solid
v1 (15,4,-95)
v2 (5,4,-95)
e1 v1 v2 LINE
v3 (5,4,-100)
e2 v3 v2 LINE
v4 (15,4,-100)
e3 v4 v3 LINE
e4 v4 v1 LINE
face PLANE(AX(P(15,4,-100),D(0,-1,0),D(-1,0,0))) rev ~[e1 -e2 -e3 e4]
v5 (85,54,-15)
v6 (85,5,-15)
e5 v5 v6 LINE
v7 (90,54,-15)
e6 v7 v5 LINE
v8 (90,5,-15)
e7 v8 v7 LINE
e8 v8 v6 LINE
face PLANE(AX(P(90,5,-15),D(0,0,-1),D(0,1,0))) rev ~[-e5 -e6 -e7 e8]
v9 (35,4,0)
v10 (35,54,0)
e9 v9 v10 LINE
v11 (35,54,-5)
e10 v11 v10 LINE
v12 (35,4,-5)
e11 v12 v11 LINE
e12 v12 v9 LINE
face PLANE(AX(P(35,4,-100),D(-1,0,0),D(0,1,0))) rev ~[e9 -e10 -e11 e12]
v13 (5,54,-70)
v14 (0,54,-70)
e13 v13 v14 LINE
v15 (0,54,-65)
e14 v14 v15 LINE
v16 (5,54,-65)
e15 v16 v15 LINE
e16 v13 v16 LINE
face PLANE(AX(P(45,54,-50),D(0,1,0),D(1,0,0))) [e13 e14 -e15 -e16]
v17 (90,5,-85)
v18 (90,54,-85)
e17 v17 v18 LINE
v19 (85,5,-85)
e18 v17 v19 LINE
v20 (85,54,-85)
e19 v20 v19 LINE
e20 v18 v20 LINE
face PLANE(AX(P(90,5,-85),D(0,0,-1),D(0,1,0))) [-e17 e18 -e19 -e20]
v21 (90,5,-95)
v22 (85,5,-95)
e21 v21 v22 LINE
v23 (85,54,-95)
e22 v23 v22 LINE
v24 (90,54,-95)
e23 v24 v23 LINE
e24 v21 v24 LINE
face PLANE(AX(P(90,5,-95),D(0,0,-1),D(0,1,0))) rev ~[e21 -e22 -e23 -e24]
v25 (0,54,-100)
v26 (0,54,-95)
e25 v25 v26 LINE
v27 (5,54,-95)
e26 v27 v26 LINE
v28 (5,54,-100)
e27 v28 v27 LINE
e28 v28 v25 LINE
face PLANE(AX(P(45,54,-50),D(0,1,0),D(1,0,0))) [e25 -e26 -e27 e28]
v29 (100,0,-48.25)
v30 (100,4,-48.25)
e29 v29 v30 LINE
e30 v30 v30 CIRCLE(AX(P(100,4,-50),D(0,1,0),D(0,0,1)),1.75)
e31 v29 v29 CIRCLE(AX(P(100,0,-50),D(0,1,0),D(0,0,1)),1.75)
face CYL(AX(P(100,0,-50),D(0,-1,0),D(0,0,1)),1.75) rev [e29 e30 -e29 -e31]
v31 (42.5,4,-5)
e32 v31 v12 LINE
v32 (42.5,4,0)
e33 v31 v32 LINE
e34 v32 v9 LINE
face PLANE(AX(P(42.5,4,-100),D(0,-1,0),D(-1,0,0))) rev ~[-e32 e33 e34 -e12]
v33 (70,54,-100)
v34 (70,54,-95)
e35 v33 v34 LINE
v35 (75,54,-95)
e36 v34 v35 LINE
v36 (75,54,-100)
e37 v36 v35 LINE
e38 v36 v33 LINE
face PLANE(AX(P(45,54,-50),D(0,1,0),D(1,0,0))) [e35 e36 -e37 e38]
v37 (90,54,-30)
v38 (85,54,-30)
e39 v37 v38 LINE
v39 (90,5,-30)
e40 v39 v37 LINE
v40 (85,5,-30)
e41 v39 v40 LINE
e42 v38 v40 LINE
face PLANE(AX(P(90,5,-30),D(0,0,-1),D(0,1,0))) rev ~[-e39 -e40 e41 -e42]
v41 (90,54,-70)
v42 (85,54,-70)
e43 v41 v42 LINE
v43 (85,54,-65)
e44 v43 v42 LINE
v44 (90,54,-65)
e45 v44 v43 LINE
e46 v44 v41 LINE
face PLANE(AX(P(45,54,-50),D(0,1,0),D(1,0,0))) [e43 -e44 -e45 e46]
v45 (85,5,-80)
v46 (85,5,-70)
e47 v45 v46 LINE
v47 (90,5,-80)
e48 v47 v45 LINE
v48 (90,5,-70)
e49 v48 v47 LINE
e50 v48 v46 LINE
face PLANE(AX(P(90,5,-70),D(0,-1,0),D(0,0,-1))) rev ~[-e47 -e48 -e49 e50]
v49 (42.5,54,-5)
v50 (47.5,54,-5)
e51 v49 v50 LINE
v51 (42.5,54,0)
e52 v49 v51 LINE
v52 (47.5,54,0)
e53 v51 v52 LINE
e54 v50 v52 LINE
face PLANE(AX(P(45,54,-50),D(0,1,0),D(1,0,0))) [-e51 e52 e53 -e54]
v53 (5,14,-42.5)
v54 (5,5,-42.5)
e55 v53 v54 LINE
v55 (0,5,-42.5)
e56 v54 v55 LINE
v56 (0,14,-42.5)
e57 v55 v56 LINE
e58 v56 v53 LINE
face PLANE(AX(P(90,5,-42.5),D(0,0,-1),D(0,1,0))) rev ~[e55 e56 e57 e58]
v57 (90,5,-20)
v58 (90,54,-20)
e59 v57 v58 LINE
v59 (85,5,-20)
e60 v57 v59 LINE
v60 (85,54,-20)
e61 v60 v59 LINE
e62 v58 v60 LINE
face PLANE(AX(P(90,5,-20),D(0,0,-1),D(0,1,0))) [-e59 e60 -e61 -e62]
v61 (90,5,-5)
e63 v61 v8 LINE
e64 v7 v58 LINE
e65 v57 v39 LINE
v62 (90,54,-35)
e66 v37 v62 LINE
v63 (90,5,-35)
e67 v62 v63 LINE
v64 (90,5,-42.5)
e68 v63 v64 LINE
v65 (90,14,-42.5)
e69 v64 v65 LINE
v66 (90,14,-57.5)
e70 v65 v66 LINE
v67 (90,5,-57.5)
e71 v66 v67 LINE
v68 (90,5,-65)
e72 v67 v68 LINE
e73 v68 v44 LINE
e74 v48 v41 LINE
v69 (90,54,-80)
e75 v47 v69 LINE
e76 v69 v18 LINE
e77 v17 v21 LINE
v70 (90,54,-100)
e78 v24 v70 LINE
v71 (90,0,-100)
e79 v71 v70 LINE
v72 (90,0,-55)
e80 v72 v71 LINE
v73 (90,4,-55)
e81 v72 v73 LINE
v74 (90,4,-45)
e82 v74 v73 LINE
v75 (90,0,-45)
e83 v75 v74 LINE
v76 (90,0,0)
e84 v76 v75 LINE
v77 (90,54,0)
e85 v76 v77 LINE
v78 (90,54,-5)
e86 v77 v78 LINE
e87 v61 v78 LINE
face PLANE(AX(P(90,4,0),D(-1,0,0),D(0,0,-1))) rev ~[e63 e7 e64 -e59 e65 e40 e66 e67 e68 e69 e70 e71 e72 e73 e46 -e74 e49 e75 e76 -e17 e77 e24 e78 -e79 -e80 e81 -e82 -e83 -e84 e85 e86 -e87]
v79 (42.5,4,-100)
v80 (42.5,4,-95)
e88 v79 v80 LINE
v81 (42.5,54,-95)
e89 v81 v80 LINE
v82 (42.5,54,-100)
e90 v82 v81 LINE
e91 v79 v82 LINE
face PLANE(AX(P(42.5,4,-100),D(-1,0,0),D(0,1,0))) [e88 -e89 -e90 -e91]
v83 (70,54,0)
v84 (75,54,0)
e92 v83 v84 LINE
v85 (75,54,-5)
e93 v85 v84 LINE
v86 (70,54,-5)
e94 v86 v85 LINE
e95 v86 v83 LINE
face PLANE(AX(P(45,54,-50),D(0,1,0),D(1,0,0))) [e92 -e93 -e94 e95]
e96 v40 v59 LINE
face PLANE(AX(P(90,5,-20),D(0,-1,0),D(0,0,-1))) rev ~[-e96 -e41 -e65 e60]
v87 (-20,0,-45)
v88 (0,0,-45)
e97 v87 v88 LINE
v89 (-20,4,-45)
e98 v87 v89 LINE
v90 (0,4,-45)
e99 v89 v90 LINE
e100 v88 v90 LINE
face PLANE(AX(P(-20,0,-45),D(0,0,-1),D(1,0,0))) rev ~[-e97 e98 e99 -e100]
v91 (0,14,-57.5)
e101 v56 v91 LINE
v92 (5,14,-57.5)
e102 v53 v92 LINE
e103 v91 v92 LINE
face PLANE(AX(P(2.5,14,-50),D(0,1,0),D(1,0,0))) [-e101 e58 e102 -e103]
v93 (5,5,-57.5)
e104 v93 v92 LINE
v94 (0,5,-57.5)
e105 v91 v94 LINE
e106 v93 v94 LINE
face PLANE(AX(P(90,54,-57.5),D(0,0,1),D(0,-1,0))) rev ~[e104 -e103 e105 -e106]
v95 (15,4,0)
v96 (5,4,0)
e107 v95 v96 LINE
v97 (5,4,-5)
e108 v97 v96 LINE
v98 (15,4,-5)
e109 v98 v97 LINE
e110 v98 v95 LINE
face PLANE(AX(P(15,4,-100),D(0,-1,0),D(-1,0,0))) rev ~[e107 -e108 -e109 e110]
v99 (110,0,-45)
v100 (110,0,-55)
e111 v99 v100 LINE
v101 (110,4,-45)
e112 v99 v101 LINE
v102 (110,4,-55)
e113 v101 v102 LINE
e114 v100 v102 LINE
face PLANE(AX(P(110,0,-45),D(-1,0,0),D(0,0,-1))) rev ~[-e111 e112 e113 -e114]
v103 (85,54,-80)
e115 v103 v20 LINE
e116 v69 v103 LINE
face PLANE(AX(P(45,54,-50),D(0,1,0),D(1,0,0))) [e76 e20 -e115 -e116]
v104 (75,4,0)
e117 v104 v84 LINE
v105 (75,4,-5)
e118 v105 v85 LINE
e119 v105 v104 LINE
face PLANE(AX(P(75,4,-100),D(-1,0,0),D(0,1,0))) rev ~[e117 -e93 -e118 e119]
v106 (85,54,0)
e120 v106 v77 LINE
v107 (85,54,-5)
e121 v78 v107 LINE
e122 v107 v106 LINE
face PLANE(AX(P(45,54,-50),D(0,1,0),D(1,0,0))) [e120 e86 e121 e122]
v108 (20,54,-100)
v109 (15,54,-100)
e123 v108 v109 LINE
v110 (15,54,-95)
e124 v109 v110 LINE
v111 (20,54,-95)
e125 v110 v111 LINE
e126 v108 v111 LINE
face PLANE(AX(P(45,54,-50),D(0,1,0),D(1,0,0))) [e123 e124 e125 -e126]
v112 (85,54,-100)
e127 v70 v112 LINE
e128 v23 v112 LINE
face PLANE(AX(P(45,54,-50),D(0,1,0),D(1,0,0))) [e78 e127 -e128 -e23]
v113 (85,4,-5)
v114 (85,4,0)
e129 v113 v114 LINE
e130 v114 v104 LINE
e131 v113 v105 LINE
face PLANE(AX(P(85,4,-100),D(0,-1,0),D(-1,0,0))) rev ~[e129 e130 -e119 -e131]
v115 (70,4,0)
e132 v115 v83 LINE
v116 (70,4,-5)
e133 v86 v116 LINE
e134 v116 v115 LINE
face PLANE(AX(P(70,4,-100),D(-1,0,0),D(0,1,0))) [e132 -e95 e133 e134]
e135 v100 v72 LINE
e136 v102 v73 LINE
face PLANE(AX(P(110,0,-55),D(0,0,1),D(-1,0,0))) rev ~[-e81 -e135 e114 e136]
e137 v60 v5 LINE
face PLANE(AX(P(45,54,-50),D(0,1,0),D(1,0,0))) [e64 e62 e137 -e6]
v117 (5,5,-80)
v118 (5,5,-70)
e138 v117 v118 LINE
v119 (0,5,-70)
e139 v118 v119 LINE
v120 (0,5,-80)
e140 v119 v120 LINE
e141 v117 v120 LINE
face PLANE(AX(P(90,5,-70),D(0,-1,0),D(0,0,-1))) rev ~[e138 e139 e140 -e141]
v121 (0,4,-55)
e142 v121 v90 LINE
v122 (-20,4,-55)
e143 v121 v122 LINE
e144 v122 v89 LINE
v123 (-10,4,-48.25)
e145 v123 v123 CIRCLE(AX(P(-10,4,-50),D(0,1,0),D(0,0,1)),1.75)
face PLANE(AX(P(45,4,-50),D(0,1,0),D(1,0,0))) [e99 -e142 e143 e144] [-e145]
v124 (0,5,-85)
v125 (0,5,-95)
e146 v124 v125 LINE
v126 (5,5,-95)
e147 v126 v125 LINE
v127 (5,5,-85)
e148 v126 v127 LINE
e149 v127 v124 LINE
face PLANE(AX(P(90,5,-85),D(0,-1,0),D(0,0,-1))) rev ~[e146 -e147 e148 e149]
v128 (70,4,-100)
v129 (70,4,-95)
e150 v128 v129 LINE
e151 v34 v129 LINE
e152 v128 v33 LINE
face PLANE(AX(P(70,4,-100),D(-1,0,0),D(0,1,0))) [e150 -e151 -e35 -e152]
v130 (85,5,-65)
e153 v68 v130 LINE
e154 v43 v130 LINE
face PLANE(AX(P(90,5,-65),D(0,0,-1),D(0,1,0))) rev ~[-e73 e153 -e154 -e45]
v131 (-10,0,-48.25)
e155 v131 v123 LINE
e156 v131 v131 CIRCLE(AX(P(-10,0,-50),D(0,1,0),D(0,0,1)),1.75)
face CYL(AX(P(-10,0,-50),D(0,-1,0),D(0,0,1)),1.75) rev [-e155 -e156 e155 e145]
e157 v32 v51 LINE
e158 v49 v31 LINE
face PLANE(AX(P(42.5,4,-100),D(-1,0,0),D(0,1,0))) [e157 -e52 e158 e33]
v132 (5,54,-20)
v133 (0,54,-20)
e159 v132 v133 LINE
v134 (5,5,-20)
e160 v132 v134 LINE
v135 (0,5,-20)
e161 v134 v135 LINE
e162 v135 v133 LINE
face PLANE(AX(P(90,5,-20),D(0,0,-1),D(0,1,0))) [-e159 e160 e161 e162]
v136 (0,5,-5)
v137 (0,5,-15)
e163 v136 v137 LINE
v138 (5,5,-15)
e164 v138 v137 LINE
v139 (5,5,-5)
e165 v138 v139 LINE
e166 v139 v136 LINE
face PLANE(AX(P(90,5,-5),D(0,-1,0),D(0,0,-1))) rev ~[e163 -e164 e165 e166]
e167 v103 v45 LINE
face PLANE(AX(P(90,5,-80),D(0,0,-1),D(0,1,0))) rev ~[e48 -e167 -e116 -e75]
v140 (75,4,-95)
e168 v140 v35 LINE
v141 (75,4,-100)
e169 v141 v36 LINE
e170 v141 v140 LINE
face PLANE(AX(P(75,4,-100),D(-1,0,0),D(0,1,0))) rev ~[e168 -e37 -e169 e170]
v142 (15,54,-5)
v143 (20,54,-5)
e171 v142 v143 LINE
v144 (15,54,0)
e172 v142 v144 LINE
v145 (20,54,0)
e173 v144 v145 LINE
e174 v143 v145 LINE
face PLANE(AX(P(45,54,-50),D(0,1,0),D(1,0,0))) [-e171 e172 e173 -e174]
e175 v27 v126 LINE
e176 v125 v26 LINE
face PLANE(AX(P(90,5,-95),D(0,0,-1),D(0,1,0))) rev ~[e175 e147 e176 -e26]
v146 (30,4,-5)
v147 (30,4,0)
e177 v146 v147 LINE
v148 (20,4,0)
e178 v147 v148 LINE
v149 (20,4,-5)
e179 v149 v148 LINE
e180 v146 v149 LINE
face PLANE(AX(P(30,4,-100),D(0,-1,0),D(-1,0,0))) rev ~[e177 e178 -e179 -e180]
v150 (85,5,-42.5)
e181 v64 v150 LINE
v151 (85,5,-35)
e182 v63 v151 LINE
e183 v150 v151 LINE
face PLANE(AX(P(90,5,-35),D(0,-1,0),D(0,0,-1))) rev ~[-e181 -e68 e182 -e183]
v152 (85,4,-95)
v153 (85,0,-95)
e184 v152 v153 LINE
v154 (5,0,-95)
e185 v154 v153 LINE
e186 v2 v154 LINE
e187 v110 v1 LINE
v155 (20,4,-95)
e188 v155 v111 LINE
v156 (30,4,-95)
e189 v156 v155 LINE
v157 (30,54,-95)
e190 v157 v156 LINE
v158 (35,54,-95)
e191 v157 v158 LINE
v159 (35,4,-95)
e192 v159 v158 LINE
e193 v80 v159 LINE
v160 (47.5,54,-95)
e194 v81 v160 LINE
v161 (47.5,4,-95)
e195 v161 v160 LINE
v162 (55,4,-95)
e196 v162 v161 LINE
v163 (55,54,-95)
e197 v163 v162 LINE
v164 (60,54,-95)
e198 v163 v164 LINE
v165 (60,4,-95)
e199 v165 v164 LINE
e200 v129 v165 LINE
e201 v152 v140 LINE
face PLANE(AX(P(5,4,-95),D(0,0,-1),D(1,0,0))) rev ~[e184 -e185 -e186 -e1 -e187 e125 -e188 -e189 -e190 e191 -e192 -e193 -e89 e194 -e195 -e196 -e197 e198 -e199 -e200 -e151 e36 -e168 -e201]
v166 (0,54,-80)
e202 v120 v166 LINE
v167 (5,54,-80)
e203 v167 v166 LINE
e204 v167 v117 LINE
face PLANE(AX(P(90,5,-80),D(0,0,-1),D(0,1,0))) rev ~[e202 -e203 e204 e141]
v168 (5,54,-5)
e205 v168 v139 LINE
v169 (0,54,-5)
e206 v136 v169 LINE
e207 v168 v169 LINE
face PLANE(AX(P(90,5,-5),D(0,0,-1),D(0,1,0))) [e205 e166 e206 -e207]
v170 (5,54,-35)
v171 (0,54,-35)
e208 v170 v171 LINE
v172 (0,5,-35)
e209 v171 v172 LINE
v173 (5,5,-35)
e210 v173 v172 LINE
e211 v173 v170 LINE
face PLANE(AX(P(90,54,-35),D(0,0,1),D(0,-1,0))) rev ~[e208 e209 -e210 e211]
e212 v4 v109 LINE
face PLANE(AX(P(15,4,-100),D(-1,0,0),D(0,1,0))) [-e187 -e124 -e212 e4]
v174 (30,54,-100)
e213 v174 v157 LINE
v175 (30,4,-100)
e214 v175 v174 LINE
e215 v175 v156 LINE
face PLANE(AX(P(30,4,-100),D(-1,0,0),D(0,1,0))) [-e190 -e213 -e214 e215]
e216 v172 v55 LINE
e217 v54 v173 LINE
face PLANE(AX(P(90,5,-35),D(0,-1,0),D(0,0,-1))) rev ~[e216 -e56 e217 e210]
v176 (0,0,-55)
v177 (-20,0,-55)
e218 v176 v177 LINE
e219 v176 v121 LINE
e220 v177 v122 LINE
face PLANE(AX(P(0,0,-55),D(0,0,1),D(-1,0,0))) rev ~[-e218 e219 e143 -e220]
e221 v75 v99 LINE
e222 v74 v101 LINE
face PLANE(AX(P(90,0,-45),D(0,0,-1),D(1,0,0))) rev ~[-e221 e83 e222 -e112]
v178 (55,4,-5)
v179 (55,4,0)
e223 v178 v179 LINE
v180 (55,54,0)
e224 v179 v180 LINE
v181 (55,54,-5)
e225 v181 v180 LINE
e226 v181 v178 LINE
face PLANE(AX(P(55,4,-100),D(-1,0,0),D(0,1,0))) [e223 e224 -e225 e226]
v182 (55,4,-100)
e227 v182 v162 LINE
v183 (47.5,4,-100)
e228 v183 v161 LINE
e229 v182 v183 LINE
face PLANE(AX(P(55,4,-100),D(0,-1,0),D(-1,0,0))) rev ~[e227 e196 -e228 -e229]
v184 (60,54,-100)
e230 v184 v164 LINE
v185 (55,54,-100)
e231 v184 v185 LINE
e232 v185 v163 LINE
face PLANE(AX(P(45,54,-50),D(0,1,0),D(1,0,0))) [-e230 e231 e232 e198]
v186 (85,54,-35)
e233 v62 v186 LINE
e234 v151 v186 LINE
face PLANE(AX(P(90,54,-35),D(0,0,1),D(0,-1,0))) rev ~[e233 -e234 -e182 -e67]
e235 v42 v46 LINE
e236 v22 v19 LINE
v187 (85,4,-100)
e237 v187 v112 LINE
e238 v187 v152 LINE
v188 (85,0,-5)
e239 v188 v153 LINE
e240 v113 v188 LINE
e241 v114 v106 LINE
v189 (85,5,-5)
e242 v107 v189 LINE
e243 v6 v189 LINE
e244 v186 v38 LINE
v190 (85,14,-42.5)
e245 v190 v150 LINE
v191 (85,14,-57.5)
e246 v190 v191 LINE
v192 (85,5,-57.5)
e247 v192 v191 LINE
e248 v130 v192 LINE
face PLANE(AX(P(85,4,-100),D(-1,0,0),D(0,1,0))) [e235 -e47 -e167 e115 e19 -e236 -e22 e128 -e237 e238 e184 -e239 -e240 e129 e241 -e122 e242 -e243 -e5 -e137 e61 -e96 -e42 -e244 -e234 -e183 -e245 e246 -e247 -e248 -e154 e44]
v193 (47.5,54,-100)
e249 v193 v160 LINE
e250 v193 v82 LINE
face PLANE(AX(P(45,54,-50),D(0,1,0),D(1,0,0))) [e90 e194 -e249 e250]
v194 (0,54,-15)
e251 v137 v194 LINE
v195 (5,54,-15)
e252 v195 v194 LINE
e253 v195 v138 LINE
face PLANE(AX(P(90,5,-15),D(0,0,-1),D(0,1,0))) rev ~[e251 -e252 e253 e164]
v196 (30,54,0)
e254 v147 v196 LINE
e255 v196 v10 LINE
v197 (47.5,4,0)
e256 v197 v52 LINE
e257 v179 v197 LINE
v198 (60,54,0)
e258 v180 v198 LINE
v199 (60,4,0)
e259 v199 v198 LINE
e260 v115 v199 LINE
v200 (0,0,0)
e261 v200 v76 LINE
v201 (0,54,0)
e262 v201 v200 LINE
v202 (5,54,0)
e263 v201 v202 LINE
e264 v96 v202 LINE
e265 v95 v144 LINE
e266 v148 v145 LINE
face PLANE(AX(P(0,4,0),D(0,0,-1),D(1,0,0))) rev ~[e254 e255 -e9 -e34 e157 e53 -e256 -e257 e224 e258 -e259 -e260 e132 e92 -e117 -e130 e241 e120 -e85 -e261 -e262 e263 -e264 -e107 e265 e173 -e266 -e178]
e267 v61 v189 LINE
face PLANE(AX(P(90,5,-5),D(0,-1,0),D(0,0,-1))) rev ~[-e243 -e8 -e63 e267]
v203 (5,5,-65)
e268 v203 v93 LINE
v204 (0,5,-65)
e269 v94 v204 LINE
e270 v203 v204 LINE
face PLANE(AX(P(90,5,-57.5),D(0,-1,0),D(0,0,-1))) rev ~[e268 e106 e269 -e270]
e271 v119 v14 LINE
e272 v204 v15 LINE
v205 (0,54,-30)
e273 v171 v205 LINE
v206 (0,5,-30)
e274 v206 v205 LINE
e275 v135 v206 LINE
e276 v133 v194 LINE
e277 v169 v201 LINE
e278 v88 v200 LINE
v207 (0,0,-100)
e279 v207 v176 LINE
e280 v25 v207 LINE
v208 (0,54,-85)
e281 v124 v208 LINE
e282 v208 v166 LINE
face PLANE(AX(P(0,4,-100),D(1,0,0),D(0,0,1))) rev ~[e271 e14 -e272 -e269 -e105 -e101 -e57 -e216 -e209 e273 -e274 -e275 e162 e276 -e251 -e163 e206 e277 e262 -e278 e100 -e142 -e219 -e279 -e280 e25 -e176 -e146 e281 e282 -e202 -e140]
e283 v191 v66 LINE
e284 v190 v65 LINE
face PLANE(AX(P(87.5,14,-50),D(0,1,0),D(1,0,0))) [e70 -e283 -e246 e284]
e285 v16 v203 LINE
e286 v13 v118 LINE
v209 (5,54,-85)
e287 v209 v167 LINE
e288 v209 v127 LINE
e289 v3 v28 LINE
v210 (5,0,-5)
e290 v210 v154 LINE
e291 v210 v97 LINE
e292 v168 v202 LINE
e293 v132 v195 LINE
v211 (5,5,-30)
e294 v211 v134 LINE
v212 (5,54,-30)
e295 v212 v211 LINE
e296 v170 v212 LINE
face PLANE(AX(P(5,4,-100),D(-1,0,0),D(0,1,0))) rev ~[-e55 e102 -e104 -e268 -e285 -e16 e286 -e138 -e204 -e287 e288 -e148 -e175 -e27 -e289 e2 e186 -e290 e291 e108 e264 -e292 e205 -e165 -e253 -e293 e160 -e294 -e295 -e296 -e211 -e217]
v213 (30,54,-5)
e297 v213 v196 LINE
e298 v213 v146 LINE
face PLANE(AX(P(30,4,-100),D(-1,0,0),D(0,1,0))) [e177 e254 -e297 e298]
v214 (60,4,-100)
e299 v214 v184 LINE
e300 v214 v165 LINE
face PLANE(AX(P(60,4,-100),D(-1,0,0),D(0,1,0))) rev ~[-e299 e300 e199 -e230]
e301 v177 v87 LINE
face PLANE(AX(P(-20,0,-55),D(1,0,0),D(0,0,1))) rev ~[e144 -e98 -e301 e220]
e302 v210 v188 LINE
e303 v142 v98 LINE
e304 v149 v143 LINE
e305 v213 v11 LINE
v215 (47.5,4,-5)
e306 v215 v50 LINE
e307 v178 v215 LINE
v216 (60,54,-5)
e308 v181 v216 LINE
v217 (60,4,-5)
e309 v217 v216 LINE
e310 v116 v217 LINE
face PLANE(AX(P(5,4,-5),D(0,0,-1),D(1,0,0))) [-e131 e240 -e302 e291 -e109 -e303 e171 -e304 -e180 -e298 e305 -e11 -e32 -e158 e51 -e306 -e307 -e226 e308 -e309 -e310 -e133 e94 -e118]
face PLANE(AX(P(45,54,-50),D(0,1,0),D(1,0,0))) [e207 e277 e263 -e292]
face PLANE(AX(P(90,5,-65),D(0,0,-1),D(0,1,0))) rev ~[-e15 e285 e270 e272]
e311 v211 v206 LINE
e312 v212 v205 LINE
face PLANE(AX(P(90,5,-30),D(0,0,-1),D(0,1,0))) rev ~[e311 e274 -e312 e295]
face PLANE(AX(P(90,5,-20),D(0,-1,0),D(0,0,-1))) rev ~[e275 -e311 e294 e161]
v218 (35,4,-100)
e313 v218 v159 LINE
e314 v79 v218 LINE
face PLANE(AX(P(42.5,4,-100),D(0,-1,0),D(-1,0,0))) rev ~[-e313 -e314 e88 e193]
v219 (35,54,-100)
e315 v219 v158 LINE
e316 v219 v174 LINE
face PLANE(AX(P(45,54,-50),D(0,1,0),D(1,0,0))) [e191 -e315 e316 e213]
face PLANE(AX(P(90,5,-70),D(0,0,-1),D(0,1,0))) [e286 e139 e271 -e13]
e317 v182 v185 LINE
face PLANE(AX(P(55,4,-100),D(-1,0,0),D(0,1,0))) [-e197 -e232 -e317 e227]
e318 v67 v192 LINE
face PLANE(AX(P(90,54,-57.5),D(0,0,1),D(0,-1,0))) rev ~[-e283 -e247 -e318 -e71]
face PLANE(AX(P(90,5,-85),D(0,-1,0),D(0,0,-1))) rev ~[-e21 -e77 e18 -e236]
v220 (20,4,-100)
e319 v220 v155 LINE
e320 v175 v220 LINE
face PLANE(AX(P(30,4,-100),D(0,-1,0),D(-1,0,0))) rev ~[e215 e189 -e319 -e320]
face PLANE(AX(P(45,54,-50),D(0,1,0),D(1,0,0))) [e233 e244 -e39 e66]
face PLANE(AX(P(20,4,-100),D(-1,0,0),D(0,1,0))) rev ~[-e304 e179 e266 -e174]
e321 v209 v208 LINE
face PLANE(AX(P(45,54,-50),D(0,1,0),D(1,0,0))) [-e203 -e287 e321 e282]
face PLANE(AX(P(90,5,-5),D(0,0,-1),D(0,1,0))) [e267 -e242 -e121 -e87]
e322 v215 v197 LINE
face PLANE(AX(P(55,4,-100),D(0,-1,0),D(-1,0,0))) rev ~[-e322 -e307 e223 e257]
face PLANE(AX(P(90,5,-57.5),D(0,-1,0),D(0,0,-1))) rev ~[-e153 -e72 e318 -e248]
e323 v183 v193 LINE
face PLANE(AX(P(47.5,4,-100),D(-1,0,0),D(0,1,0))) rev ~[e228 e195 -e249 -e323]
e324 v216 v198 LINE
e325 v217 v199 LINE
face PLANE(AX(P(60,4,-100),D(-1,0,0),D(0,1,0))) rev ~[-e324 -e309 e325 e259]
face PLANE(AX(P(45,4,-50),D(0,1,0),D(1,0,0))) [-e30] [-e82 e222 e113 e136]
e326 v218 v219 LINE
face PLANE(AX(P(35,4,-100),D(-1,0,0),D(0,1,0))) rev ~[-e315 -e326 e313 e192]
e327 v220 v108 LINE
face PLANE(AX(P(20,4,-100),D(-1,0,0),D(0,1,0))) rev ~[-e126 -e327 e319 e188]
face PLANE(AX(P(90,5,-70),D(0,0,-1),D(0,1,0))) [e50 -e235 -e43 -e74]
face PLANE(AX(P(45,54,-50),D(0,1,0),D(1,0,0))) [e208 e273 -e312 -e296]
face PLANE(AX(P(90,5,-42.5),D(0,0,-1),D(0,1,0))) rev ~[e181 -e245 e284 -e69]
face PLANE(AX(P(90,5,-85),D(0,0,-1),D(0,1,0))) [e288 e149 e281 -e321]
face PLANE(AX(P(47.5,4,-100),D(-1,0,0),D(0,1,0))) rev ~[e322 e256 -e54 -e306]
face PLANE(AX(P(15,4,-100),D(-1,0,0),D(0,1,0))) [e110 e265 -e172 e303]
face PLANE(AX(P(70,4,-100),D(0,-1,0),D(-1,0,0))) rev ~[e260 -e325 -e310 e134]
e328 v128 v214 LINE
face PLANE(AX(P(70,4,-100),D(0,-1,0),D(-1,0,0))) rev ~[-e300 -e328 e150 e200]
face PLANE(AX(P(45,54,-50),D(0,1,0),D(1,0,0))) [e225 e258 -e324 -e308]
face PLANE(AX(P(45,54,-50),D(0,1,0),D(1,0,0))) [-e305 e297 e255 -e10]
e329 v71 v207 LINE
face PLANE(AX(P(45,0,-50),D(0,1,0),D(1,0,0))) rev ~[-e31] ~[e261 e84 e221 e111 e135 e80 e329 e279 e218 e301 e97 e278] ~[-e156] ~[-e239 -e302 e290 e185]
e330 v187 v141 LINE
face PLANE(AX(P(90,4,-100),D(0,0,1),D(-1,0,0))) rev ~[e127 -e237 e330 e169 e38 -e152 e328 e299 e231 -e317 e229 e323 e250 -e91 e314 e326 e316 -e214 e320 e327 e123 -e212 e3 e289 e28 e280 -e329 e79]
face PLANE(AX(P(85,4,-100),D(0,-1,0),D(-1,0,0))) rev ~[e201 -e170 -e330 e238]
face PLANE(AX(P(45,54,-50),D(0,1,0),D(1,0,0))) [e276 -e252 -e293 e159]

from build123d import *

# Parameters (mm, degrees)
SKETCH1_W           = 80
SKETCH1_H           = 90
SKETCH1_R           = 1.75
BOSS_EXTRUDE1_DEPTH = 4
SKETCH2_W           = 80
SKETCH2_H           = 90
BOSS_EXTRUDE2_DEPTH = 50
SKETCH3_W           = 5
SKETCH3_H           = 15
CUT_EXTRUDE1_DEPTH  = 40
SKETCH6_W           = 10
SKETCH6_H           = 50
SKETCH6_W_2         = 7.5
CUT_EXTRUDE5_DEPTH  = 159.164471358
SKETCH8_W           = 10
SKETCH8_H           = 49
CUT_EXTRUDE6_DEPTH  = 159.164471358


with BuildPart() as part:
    # Sketch1 → Boss-Extrude1 (new body)
    with BuildSketch(Plane(origin=(0, 0, 0), x_dir=(1, 0, 0), z_dir=(0, 1, 0))):
        Polygon((0, 0), (90, 0), (90, 45), (110, 45), (110, 55), (90, 55), (90, 100), (0, 100), (0, 55), (-20, 55), (-20, 45), (0, 45), align=None)
        with Locations((45, 50)):
            Rectangle(SKETCH1_W, SKETCH1_H, mode=Mode.SUBTRACT)
        with Locations(Location((-10, 50, 0), (0, 0, 270))):
            Circle(SKETCH1_R, mode=Mode.SUBTRACT)
        with Locations(Location((100, 50, 0), (0, 0, 270))):
            Circle(SKETCH1_R, mode=Mode.SUBTRACT)
    extrude(amount=BOSS_EXTRUDE1_DEPTH)

    # Sketch2 → Boss-Extrude2 (add)
    with BuildSketch(Plane(origin=(0, 4, 0), x_dir=(1, 0, 0), z_dir=(0, 1, 0))):
        Polygon((0, 45), (0, 0), (90, 0), (90, 45), (90, 55), (90, 100), (0, 100), (0, 55), align=None)
        with Locations((45, 50)):
            Rectangle(SKETCH2_W, SKETCH2_H, mode=Mode.SUBTRACT)
    extrude(amount=BOSS_EXTRUDE2_DEPTH)

    # Sketch3 → Cut-Extrude1 (cut)
    with BuildSketch(Plane(origin=(0, 54, 0), x_dir=(1, 0, 0), z_dir=(0, 1, 0))):
        with Locations((87.5, 50)):
            Rectangle(SKETCH3_W, SKETCH3_H)
        with Locations((2.5, 50)):
            Rectangle(SKETCH3_W, SKETCH3_H)
    extrude(amount=-CUT_EXTRUDE1_DEPTH, mode=Mode.SUBTRACT)

    # Sketch6 → Cut-Extrude5 (cut, through all)
    with BuildSketch(Plane(origin=(0, 0, -100), x_dir=(-1, 0, 0), z_dir=(0, 0, -1))):
        with Locations((-80, 29)):
            Rectangle(SKETCH6_W, SKETCH6_H)
        with Locations((-65, 29)):
            Rectangle(SKETCH6_W, SKETCH6_H)
        with Locations((-51.25, 29)):
            Rectangle(SKETCH6_W_2, SKETCH6_H)
        with Locations((-38.75, 29)):
            Rectangle(SKETCH6_W_2, SKETCH6_H)
        with Locations((-25, 29)):
            Rectangle(SKETCH6_W, SKETCH6_H)
        with Locations((-10, 29)):
            Rectangle(SKETCH6_W, SKETCH6_H)
    extrude(amount=-CUT_EXTRUDE5_DEPTH, mode=Mode.SUBTRACT)

    # Sketch8 → Cut-Extrude6 (cut, through all)
    with BuildSketch(Plane(origin=(90, 0, 0), x_dir=(0, 0, -1), z_dir=(1, 0, 0))):
        with Locations((10, 29.5)):
            Rectangle(SKETCH8_W, SKETCH8_H)
        with Locations((25, 29.5)):
            Rectangle(SKETCH8_W, SKETCH8_H)
        Polygon((42.5, 54), (35, 54), (35, 5), (42.5, 5), (42.5, 14), align=None)
        Polygon((57.5, 14), (57.5, 5), (65, 5), (65, 54), (57.5, 54), align=None)
        with Locations((75, 29.5)):
            Rectangle(SKETCH8_W, SKETCH8_H)
        with Locations((90, 29.5)):
            Rectangle(SKETCH8_W, SKETCH8_H)
    extrude(amount=-CUT_EXTRUDE6_DEPTH, mode=Mode.SUBTRACT)


solid = part.part
